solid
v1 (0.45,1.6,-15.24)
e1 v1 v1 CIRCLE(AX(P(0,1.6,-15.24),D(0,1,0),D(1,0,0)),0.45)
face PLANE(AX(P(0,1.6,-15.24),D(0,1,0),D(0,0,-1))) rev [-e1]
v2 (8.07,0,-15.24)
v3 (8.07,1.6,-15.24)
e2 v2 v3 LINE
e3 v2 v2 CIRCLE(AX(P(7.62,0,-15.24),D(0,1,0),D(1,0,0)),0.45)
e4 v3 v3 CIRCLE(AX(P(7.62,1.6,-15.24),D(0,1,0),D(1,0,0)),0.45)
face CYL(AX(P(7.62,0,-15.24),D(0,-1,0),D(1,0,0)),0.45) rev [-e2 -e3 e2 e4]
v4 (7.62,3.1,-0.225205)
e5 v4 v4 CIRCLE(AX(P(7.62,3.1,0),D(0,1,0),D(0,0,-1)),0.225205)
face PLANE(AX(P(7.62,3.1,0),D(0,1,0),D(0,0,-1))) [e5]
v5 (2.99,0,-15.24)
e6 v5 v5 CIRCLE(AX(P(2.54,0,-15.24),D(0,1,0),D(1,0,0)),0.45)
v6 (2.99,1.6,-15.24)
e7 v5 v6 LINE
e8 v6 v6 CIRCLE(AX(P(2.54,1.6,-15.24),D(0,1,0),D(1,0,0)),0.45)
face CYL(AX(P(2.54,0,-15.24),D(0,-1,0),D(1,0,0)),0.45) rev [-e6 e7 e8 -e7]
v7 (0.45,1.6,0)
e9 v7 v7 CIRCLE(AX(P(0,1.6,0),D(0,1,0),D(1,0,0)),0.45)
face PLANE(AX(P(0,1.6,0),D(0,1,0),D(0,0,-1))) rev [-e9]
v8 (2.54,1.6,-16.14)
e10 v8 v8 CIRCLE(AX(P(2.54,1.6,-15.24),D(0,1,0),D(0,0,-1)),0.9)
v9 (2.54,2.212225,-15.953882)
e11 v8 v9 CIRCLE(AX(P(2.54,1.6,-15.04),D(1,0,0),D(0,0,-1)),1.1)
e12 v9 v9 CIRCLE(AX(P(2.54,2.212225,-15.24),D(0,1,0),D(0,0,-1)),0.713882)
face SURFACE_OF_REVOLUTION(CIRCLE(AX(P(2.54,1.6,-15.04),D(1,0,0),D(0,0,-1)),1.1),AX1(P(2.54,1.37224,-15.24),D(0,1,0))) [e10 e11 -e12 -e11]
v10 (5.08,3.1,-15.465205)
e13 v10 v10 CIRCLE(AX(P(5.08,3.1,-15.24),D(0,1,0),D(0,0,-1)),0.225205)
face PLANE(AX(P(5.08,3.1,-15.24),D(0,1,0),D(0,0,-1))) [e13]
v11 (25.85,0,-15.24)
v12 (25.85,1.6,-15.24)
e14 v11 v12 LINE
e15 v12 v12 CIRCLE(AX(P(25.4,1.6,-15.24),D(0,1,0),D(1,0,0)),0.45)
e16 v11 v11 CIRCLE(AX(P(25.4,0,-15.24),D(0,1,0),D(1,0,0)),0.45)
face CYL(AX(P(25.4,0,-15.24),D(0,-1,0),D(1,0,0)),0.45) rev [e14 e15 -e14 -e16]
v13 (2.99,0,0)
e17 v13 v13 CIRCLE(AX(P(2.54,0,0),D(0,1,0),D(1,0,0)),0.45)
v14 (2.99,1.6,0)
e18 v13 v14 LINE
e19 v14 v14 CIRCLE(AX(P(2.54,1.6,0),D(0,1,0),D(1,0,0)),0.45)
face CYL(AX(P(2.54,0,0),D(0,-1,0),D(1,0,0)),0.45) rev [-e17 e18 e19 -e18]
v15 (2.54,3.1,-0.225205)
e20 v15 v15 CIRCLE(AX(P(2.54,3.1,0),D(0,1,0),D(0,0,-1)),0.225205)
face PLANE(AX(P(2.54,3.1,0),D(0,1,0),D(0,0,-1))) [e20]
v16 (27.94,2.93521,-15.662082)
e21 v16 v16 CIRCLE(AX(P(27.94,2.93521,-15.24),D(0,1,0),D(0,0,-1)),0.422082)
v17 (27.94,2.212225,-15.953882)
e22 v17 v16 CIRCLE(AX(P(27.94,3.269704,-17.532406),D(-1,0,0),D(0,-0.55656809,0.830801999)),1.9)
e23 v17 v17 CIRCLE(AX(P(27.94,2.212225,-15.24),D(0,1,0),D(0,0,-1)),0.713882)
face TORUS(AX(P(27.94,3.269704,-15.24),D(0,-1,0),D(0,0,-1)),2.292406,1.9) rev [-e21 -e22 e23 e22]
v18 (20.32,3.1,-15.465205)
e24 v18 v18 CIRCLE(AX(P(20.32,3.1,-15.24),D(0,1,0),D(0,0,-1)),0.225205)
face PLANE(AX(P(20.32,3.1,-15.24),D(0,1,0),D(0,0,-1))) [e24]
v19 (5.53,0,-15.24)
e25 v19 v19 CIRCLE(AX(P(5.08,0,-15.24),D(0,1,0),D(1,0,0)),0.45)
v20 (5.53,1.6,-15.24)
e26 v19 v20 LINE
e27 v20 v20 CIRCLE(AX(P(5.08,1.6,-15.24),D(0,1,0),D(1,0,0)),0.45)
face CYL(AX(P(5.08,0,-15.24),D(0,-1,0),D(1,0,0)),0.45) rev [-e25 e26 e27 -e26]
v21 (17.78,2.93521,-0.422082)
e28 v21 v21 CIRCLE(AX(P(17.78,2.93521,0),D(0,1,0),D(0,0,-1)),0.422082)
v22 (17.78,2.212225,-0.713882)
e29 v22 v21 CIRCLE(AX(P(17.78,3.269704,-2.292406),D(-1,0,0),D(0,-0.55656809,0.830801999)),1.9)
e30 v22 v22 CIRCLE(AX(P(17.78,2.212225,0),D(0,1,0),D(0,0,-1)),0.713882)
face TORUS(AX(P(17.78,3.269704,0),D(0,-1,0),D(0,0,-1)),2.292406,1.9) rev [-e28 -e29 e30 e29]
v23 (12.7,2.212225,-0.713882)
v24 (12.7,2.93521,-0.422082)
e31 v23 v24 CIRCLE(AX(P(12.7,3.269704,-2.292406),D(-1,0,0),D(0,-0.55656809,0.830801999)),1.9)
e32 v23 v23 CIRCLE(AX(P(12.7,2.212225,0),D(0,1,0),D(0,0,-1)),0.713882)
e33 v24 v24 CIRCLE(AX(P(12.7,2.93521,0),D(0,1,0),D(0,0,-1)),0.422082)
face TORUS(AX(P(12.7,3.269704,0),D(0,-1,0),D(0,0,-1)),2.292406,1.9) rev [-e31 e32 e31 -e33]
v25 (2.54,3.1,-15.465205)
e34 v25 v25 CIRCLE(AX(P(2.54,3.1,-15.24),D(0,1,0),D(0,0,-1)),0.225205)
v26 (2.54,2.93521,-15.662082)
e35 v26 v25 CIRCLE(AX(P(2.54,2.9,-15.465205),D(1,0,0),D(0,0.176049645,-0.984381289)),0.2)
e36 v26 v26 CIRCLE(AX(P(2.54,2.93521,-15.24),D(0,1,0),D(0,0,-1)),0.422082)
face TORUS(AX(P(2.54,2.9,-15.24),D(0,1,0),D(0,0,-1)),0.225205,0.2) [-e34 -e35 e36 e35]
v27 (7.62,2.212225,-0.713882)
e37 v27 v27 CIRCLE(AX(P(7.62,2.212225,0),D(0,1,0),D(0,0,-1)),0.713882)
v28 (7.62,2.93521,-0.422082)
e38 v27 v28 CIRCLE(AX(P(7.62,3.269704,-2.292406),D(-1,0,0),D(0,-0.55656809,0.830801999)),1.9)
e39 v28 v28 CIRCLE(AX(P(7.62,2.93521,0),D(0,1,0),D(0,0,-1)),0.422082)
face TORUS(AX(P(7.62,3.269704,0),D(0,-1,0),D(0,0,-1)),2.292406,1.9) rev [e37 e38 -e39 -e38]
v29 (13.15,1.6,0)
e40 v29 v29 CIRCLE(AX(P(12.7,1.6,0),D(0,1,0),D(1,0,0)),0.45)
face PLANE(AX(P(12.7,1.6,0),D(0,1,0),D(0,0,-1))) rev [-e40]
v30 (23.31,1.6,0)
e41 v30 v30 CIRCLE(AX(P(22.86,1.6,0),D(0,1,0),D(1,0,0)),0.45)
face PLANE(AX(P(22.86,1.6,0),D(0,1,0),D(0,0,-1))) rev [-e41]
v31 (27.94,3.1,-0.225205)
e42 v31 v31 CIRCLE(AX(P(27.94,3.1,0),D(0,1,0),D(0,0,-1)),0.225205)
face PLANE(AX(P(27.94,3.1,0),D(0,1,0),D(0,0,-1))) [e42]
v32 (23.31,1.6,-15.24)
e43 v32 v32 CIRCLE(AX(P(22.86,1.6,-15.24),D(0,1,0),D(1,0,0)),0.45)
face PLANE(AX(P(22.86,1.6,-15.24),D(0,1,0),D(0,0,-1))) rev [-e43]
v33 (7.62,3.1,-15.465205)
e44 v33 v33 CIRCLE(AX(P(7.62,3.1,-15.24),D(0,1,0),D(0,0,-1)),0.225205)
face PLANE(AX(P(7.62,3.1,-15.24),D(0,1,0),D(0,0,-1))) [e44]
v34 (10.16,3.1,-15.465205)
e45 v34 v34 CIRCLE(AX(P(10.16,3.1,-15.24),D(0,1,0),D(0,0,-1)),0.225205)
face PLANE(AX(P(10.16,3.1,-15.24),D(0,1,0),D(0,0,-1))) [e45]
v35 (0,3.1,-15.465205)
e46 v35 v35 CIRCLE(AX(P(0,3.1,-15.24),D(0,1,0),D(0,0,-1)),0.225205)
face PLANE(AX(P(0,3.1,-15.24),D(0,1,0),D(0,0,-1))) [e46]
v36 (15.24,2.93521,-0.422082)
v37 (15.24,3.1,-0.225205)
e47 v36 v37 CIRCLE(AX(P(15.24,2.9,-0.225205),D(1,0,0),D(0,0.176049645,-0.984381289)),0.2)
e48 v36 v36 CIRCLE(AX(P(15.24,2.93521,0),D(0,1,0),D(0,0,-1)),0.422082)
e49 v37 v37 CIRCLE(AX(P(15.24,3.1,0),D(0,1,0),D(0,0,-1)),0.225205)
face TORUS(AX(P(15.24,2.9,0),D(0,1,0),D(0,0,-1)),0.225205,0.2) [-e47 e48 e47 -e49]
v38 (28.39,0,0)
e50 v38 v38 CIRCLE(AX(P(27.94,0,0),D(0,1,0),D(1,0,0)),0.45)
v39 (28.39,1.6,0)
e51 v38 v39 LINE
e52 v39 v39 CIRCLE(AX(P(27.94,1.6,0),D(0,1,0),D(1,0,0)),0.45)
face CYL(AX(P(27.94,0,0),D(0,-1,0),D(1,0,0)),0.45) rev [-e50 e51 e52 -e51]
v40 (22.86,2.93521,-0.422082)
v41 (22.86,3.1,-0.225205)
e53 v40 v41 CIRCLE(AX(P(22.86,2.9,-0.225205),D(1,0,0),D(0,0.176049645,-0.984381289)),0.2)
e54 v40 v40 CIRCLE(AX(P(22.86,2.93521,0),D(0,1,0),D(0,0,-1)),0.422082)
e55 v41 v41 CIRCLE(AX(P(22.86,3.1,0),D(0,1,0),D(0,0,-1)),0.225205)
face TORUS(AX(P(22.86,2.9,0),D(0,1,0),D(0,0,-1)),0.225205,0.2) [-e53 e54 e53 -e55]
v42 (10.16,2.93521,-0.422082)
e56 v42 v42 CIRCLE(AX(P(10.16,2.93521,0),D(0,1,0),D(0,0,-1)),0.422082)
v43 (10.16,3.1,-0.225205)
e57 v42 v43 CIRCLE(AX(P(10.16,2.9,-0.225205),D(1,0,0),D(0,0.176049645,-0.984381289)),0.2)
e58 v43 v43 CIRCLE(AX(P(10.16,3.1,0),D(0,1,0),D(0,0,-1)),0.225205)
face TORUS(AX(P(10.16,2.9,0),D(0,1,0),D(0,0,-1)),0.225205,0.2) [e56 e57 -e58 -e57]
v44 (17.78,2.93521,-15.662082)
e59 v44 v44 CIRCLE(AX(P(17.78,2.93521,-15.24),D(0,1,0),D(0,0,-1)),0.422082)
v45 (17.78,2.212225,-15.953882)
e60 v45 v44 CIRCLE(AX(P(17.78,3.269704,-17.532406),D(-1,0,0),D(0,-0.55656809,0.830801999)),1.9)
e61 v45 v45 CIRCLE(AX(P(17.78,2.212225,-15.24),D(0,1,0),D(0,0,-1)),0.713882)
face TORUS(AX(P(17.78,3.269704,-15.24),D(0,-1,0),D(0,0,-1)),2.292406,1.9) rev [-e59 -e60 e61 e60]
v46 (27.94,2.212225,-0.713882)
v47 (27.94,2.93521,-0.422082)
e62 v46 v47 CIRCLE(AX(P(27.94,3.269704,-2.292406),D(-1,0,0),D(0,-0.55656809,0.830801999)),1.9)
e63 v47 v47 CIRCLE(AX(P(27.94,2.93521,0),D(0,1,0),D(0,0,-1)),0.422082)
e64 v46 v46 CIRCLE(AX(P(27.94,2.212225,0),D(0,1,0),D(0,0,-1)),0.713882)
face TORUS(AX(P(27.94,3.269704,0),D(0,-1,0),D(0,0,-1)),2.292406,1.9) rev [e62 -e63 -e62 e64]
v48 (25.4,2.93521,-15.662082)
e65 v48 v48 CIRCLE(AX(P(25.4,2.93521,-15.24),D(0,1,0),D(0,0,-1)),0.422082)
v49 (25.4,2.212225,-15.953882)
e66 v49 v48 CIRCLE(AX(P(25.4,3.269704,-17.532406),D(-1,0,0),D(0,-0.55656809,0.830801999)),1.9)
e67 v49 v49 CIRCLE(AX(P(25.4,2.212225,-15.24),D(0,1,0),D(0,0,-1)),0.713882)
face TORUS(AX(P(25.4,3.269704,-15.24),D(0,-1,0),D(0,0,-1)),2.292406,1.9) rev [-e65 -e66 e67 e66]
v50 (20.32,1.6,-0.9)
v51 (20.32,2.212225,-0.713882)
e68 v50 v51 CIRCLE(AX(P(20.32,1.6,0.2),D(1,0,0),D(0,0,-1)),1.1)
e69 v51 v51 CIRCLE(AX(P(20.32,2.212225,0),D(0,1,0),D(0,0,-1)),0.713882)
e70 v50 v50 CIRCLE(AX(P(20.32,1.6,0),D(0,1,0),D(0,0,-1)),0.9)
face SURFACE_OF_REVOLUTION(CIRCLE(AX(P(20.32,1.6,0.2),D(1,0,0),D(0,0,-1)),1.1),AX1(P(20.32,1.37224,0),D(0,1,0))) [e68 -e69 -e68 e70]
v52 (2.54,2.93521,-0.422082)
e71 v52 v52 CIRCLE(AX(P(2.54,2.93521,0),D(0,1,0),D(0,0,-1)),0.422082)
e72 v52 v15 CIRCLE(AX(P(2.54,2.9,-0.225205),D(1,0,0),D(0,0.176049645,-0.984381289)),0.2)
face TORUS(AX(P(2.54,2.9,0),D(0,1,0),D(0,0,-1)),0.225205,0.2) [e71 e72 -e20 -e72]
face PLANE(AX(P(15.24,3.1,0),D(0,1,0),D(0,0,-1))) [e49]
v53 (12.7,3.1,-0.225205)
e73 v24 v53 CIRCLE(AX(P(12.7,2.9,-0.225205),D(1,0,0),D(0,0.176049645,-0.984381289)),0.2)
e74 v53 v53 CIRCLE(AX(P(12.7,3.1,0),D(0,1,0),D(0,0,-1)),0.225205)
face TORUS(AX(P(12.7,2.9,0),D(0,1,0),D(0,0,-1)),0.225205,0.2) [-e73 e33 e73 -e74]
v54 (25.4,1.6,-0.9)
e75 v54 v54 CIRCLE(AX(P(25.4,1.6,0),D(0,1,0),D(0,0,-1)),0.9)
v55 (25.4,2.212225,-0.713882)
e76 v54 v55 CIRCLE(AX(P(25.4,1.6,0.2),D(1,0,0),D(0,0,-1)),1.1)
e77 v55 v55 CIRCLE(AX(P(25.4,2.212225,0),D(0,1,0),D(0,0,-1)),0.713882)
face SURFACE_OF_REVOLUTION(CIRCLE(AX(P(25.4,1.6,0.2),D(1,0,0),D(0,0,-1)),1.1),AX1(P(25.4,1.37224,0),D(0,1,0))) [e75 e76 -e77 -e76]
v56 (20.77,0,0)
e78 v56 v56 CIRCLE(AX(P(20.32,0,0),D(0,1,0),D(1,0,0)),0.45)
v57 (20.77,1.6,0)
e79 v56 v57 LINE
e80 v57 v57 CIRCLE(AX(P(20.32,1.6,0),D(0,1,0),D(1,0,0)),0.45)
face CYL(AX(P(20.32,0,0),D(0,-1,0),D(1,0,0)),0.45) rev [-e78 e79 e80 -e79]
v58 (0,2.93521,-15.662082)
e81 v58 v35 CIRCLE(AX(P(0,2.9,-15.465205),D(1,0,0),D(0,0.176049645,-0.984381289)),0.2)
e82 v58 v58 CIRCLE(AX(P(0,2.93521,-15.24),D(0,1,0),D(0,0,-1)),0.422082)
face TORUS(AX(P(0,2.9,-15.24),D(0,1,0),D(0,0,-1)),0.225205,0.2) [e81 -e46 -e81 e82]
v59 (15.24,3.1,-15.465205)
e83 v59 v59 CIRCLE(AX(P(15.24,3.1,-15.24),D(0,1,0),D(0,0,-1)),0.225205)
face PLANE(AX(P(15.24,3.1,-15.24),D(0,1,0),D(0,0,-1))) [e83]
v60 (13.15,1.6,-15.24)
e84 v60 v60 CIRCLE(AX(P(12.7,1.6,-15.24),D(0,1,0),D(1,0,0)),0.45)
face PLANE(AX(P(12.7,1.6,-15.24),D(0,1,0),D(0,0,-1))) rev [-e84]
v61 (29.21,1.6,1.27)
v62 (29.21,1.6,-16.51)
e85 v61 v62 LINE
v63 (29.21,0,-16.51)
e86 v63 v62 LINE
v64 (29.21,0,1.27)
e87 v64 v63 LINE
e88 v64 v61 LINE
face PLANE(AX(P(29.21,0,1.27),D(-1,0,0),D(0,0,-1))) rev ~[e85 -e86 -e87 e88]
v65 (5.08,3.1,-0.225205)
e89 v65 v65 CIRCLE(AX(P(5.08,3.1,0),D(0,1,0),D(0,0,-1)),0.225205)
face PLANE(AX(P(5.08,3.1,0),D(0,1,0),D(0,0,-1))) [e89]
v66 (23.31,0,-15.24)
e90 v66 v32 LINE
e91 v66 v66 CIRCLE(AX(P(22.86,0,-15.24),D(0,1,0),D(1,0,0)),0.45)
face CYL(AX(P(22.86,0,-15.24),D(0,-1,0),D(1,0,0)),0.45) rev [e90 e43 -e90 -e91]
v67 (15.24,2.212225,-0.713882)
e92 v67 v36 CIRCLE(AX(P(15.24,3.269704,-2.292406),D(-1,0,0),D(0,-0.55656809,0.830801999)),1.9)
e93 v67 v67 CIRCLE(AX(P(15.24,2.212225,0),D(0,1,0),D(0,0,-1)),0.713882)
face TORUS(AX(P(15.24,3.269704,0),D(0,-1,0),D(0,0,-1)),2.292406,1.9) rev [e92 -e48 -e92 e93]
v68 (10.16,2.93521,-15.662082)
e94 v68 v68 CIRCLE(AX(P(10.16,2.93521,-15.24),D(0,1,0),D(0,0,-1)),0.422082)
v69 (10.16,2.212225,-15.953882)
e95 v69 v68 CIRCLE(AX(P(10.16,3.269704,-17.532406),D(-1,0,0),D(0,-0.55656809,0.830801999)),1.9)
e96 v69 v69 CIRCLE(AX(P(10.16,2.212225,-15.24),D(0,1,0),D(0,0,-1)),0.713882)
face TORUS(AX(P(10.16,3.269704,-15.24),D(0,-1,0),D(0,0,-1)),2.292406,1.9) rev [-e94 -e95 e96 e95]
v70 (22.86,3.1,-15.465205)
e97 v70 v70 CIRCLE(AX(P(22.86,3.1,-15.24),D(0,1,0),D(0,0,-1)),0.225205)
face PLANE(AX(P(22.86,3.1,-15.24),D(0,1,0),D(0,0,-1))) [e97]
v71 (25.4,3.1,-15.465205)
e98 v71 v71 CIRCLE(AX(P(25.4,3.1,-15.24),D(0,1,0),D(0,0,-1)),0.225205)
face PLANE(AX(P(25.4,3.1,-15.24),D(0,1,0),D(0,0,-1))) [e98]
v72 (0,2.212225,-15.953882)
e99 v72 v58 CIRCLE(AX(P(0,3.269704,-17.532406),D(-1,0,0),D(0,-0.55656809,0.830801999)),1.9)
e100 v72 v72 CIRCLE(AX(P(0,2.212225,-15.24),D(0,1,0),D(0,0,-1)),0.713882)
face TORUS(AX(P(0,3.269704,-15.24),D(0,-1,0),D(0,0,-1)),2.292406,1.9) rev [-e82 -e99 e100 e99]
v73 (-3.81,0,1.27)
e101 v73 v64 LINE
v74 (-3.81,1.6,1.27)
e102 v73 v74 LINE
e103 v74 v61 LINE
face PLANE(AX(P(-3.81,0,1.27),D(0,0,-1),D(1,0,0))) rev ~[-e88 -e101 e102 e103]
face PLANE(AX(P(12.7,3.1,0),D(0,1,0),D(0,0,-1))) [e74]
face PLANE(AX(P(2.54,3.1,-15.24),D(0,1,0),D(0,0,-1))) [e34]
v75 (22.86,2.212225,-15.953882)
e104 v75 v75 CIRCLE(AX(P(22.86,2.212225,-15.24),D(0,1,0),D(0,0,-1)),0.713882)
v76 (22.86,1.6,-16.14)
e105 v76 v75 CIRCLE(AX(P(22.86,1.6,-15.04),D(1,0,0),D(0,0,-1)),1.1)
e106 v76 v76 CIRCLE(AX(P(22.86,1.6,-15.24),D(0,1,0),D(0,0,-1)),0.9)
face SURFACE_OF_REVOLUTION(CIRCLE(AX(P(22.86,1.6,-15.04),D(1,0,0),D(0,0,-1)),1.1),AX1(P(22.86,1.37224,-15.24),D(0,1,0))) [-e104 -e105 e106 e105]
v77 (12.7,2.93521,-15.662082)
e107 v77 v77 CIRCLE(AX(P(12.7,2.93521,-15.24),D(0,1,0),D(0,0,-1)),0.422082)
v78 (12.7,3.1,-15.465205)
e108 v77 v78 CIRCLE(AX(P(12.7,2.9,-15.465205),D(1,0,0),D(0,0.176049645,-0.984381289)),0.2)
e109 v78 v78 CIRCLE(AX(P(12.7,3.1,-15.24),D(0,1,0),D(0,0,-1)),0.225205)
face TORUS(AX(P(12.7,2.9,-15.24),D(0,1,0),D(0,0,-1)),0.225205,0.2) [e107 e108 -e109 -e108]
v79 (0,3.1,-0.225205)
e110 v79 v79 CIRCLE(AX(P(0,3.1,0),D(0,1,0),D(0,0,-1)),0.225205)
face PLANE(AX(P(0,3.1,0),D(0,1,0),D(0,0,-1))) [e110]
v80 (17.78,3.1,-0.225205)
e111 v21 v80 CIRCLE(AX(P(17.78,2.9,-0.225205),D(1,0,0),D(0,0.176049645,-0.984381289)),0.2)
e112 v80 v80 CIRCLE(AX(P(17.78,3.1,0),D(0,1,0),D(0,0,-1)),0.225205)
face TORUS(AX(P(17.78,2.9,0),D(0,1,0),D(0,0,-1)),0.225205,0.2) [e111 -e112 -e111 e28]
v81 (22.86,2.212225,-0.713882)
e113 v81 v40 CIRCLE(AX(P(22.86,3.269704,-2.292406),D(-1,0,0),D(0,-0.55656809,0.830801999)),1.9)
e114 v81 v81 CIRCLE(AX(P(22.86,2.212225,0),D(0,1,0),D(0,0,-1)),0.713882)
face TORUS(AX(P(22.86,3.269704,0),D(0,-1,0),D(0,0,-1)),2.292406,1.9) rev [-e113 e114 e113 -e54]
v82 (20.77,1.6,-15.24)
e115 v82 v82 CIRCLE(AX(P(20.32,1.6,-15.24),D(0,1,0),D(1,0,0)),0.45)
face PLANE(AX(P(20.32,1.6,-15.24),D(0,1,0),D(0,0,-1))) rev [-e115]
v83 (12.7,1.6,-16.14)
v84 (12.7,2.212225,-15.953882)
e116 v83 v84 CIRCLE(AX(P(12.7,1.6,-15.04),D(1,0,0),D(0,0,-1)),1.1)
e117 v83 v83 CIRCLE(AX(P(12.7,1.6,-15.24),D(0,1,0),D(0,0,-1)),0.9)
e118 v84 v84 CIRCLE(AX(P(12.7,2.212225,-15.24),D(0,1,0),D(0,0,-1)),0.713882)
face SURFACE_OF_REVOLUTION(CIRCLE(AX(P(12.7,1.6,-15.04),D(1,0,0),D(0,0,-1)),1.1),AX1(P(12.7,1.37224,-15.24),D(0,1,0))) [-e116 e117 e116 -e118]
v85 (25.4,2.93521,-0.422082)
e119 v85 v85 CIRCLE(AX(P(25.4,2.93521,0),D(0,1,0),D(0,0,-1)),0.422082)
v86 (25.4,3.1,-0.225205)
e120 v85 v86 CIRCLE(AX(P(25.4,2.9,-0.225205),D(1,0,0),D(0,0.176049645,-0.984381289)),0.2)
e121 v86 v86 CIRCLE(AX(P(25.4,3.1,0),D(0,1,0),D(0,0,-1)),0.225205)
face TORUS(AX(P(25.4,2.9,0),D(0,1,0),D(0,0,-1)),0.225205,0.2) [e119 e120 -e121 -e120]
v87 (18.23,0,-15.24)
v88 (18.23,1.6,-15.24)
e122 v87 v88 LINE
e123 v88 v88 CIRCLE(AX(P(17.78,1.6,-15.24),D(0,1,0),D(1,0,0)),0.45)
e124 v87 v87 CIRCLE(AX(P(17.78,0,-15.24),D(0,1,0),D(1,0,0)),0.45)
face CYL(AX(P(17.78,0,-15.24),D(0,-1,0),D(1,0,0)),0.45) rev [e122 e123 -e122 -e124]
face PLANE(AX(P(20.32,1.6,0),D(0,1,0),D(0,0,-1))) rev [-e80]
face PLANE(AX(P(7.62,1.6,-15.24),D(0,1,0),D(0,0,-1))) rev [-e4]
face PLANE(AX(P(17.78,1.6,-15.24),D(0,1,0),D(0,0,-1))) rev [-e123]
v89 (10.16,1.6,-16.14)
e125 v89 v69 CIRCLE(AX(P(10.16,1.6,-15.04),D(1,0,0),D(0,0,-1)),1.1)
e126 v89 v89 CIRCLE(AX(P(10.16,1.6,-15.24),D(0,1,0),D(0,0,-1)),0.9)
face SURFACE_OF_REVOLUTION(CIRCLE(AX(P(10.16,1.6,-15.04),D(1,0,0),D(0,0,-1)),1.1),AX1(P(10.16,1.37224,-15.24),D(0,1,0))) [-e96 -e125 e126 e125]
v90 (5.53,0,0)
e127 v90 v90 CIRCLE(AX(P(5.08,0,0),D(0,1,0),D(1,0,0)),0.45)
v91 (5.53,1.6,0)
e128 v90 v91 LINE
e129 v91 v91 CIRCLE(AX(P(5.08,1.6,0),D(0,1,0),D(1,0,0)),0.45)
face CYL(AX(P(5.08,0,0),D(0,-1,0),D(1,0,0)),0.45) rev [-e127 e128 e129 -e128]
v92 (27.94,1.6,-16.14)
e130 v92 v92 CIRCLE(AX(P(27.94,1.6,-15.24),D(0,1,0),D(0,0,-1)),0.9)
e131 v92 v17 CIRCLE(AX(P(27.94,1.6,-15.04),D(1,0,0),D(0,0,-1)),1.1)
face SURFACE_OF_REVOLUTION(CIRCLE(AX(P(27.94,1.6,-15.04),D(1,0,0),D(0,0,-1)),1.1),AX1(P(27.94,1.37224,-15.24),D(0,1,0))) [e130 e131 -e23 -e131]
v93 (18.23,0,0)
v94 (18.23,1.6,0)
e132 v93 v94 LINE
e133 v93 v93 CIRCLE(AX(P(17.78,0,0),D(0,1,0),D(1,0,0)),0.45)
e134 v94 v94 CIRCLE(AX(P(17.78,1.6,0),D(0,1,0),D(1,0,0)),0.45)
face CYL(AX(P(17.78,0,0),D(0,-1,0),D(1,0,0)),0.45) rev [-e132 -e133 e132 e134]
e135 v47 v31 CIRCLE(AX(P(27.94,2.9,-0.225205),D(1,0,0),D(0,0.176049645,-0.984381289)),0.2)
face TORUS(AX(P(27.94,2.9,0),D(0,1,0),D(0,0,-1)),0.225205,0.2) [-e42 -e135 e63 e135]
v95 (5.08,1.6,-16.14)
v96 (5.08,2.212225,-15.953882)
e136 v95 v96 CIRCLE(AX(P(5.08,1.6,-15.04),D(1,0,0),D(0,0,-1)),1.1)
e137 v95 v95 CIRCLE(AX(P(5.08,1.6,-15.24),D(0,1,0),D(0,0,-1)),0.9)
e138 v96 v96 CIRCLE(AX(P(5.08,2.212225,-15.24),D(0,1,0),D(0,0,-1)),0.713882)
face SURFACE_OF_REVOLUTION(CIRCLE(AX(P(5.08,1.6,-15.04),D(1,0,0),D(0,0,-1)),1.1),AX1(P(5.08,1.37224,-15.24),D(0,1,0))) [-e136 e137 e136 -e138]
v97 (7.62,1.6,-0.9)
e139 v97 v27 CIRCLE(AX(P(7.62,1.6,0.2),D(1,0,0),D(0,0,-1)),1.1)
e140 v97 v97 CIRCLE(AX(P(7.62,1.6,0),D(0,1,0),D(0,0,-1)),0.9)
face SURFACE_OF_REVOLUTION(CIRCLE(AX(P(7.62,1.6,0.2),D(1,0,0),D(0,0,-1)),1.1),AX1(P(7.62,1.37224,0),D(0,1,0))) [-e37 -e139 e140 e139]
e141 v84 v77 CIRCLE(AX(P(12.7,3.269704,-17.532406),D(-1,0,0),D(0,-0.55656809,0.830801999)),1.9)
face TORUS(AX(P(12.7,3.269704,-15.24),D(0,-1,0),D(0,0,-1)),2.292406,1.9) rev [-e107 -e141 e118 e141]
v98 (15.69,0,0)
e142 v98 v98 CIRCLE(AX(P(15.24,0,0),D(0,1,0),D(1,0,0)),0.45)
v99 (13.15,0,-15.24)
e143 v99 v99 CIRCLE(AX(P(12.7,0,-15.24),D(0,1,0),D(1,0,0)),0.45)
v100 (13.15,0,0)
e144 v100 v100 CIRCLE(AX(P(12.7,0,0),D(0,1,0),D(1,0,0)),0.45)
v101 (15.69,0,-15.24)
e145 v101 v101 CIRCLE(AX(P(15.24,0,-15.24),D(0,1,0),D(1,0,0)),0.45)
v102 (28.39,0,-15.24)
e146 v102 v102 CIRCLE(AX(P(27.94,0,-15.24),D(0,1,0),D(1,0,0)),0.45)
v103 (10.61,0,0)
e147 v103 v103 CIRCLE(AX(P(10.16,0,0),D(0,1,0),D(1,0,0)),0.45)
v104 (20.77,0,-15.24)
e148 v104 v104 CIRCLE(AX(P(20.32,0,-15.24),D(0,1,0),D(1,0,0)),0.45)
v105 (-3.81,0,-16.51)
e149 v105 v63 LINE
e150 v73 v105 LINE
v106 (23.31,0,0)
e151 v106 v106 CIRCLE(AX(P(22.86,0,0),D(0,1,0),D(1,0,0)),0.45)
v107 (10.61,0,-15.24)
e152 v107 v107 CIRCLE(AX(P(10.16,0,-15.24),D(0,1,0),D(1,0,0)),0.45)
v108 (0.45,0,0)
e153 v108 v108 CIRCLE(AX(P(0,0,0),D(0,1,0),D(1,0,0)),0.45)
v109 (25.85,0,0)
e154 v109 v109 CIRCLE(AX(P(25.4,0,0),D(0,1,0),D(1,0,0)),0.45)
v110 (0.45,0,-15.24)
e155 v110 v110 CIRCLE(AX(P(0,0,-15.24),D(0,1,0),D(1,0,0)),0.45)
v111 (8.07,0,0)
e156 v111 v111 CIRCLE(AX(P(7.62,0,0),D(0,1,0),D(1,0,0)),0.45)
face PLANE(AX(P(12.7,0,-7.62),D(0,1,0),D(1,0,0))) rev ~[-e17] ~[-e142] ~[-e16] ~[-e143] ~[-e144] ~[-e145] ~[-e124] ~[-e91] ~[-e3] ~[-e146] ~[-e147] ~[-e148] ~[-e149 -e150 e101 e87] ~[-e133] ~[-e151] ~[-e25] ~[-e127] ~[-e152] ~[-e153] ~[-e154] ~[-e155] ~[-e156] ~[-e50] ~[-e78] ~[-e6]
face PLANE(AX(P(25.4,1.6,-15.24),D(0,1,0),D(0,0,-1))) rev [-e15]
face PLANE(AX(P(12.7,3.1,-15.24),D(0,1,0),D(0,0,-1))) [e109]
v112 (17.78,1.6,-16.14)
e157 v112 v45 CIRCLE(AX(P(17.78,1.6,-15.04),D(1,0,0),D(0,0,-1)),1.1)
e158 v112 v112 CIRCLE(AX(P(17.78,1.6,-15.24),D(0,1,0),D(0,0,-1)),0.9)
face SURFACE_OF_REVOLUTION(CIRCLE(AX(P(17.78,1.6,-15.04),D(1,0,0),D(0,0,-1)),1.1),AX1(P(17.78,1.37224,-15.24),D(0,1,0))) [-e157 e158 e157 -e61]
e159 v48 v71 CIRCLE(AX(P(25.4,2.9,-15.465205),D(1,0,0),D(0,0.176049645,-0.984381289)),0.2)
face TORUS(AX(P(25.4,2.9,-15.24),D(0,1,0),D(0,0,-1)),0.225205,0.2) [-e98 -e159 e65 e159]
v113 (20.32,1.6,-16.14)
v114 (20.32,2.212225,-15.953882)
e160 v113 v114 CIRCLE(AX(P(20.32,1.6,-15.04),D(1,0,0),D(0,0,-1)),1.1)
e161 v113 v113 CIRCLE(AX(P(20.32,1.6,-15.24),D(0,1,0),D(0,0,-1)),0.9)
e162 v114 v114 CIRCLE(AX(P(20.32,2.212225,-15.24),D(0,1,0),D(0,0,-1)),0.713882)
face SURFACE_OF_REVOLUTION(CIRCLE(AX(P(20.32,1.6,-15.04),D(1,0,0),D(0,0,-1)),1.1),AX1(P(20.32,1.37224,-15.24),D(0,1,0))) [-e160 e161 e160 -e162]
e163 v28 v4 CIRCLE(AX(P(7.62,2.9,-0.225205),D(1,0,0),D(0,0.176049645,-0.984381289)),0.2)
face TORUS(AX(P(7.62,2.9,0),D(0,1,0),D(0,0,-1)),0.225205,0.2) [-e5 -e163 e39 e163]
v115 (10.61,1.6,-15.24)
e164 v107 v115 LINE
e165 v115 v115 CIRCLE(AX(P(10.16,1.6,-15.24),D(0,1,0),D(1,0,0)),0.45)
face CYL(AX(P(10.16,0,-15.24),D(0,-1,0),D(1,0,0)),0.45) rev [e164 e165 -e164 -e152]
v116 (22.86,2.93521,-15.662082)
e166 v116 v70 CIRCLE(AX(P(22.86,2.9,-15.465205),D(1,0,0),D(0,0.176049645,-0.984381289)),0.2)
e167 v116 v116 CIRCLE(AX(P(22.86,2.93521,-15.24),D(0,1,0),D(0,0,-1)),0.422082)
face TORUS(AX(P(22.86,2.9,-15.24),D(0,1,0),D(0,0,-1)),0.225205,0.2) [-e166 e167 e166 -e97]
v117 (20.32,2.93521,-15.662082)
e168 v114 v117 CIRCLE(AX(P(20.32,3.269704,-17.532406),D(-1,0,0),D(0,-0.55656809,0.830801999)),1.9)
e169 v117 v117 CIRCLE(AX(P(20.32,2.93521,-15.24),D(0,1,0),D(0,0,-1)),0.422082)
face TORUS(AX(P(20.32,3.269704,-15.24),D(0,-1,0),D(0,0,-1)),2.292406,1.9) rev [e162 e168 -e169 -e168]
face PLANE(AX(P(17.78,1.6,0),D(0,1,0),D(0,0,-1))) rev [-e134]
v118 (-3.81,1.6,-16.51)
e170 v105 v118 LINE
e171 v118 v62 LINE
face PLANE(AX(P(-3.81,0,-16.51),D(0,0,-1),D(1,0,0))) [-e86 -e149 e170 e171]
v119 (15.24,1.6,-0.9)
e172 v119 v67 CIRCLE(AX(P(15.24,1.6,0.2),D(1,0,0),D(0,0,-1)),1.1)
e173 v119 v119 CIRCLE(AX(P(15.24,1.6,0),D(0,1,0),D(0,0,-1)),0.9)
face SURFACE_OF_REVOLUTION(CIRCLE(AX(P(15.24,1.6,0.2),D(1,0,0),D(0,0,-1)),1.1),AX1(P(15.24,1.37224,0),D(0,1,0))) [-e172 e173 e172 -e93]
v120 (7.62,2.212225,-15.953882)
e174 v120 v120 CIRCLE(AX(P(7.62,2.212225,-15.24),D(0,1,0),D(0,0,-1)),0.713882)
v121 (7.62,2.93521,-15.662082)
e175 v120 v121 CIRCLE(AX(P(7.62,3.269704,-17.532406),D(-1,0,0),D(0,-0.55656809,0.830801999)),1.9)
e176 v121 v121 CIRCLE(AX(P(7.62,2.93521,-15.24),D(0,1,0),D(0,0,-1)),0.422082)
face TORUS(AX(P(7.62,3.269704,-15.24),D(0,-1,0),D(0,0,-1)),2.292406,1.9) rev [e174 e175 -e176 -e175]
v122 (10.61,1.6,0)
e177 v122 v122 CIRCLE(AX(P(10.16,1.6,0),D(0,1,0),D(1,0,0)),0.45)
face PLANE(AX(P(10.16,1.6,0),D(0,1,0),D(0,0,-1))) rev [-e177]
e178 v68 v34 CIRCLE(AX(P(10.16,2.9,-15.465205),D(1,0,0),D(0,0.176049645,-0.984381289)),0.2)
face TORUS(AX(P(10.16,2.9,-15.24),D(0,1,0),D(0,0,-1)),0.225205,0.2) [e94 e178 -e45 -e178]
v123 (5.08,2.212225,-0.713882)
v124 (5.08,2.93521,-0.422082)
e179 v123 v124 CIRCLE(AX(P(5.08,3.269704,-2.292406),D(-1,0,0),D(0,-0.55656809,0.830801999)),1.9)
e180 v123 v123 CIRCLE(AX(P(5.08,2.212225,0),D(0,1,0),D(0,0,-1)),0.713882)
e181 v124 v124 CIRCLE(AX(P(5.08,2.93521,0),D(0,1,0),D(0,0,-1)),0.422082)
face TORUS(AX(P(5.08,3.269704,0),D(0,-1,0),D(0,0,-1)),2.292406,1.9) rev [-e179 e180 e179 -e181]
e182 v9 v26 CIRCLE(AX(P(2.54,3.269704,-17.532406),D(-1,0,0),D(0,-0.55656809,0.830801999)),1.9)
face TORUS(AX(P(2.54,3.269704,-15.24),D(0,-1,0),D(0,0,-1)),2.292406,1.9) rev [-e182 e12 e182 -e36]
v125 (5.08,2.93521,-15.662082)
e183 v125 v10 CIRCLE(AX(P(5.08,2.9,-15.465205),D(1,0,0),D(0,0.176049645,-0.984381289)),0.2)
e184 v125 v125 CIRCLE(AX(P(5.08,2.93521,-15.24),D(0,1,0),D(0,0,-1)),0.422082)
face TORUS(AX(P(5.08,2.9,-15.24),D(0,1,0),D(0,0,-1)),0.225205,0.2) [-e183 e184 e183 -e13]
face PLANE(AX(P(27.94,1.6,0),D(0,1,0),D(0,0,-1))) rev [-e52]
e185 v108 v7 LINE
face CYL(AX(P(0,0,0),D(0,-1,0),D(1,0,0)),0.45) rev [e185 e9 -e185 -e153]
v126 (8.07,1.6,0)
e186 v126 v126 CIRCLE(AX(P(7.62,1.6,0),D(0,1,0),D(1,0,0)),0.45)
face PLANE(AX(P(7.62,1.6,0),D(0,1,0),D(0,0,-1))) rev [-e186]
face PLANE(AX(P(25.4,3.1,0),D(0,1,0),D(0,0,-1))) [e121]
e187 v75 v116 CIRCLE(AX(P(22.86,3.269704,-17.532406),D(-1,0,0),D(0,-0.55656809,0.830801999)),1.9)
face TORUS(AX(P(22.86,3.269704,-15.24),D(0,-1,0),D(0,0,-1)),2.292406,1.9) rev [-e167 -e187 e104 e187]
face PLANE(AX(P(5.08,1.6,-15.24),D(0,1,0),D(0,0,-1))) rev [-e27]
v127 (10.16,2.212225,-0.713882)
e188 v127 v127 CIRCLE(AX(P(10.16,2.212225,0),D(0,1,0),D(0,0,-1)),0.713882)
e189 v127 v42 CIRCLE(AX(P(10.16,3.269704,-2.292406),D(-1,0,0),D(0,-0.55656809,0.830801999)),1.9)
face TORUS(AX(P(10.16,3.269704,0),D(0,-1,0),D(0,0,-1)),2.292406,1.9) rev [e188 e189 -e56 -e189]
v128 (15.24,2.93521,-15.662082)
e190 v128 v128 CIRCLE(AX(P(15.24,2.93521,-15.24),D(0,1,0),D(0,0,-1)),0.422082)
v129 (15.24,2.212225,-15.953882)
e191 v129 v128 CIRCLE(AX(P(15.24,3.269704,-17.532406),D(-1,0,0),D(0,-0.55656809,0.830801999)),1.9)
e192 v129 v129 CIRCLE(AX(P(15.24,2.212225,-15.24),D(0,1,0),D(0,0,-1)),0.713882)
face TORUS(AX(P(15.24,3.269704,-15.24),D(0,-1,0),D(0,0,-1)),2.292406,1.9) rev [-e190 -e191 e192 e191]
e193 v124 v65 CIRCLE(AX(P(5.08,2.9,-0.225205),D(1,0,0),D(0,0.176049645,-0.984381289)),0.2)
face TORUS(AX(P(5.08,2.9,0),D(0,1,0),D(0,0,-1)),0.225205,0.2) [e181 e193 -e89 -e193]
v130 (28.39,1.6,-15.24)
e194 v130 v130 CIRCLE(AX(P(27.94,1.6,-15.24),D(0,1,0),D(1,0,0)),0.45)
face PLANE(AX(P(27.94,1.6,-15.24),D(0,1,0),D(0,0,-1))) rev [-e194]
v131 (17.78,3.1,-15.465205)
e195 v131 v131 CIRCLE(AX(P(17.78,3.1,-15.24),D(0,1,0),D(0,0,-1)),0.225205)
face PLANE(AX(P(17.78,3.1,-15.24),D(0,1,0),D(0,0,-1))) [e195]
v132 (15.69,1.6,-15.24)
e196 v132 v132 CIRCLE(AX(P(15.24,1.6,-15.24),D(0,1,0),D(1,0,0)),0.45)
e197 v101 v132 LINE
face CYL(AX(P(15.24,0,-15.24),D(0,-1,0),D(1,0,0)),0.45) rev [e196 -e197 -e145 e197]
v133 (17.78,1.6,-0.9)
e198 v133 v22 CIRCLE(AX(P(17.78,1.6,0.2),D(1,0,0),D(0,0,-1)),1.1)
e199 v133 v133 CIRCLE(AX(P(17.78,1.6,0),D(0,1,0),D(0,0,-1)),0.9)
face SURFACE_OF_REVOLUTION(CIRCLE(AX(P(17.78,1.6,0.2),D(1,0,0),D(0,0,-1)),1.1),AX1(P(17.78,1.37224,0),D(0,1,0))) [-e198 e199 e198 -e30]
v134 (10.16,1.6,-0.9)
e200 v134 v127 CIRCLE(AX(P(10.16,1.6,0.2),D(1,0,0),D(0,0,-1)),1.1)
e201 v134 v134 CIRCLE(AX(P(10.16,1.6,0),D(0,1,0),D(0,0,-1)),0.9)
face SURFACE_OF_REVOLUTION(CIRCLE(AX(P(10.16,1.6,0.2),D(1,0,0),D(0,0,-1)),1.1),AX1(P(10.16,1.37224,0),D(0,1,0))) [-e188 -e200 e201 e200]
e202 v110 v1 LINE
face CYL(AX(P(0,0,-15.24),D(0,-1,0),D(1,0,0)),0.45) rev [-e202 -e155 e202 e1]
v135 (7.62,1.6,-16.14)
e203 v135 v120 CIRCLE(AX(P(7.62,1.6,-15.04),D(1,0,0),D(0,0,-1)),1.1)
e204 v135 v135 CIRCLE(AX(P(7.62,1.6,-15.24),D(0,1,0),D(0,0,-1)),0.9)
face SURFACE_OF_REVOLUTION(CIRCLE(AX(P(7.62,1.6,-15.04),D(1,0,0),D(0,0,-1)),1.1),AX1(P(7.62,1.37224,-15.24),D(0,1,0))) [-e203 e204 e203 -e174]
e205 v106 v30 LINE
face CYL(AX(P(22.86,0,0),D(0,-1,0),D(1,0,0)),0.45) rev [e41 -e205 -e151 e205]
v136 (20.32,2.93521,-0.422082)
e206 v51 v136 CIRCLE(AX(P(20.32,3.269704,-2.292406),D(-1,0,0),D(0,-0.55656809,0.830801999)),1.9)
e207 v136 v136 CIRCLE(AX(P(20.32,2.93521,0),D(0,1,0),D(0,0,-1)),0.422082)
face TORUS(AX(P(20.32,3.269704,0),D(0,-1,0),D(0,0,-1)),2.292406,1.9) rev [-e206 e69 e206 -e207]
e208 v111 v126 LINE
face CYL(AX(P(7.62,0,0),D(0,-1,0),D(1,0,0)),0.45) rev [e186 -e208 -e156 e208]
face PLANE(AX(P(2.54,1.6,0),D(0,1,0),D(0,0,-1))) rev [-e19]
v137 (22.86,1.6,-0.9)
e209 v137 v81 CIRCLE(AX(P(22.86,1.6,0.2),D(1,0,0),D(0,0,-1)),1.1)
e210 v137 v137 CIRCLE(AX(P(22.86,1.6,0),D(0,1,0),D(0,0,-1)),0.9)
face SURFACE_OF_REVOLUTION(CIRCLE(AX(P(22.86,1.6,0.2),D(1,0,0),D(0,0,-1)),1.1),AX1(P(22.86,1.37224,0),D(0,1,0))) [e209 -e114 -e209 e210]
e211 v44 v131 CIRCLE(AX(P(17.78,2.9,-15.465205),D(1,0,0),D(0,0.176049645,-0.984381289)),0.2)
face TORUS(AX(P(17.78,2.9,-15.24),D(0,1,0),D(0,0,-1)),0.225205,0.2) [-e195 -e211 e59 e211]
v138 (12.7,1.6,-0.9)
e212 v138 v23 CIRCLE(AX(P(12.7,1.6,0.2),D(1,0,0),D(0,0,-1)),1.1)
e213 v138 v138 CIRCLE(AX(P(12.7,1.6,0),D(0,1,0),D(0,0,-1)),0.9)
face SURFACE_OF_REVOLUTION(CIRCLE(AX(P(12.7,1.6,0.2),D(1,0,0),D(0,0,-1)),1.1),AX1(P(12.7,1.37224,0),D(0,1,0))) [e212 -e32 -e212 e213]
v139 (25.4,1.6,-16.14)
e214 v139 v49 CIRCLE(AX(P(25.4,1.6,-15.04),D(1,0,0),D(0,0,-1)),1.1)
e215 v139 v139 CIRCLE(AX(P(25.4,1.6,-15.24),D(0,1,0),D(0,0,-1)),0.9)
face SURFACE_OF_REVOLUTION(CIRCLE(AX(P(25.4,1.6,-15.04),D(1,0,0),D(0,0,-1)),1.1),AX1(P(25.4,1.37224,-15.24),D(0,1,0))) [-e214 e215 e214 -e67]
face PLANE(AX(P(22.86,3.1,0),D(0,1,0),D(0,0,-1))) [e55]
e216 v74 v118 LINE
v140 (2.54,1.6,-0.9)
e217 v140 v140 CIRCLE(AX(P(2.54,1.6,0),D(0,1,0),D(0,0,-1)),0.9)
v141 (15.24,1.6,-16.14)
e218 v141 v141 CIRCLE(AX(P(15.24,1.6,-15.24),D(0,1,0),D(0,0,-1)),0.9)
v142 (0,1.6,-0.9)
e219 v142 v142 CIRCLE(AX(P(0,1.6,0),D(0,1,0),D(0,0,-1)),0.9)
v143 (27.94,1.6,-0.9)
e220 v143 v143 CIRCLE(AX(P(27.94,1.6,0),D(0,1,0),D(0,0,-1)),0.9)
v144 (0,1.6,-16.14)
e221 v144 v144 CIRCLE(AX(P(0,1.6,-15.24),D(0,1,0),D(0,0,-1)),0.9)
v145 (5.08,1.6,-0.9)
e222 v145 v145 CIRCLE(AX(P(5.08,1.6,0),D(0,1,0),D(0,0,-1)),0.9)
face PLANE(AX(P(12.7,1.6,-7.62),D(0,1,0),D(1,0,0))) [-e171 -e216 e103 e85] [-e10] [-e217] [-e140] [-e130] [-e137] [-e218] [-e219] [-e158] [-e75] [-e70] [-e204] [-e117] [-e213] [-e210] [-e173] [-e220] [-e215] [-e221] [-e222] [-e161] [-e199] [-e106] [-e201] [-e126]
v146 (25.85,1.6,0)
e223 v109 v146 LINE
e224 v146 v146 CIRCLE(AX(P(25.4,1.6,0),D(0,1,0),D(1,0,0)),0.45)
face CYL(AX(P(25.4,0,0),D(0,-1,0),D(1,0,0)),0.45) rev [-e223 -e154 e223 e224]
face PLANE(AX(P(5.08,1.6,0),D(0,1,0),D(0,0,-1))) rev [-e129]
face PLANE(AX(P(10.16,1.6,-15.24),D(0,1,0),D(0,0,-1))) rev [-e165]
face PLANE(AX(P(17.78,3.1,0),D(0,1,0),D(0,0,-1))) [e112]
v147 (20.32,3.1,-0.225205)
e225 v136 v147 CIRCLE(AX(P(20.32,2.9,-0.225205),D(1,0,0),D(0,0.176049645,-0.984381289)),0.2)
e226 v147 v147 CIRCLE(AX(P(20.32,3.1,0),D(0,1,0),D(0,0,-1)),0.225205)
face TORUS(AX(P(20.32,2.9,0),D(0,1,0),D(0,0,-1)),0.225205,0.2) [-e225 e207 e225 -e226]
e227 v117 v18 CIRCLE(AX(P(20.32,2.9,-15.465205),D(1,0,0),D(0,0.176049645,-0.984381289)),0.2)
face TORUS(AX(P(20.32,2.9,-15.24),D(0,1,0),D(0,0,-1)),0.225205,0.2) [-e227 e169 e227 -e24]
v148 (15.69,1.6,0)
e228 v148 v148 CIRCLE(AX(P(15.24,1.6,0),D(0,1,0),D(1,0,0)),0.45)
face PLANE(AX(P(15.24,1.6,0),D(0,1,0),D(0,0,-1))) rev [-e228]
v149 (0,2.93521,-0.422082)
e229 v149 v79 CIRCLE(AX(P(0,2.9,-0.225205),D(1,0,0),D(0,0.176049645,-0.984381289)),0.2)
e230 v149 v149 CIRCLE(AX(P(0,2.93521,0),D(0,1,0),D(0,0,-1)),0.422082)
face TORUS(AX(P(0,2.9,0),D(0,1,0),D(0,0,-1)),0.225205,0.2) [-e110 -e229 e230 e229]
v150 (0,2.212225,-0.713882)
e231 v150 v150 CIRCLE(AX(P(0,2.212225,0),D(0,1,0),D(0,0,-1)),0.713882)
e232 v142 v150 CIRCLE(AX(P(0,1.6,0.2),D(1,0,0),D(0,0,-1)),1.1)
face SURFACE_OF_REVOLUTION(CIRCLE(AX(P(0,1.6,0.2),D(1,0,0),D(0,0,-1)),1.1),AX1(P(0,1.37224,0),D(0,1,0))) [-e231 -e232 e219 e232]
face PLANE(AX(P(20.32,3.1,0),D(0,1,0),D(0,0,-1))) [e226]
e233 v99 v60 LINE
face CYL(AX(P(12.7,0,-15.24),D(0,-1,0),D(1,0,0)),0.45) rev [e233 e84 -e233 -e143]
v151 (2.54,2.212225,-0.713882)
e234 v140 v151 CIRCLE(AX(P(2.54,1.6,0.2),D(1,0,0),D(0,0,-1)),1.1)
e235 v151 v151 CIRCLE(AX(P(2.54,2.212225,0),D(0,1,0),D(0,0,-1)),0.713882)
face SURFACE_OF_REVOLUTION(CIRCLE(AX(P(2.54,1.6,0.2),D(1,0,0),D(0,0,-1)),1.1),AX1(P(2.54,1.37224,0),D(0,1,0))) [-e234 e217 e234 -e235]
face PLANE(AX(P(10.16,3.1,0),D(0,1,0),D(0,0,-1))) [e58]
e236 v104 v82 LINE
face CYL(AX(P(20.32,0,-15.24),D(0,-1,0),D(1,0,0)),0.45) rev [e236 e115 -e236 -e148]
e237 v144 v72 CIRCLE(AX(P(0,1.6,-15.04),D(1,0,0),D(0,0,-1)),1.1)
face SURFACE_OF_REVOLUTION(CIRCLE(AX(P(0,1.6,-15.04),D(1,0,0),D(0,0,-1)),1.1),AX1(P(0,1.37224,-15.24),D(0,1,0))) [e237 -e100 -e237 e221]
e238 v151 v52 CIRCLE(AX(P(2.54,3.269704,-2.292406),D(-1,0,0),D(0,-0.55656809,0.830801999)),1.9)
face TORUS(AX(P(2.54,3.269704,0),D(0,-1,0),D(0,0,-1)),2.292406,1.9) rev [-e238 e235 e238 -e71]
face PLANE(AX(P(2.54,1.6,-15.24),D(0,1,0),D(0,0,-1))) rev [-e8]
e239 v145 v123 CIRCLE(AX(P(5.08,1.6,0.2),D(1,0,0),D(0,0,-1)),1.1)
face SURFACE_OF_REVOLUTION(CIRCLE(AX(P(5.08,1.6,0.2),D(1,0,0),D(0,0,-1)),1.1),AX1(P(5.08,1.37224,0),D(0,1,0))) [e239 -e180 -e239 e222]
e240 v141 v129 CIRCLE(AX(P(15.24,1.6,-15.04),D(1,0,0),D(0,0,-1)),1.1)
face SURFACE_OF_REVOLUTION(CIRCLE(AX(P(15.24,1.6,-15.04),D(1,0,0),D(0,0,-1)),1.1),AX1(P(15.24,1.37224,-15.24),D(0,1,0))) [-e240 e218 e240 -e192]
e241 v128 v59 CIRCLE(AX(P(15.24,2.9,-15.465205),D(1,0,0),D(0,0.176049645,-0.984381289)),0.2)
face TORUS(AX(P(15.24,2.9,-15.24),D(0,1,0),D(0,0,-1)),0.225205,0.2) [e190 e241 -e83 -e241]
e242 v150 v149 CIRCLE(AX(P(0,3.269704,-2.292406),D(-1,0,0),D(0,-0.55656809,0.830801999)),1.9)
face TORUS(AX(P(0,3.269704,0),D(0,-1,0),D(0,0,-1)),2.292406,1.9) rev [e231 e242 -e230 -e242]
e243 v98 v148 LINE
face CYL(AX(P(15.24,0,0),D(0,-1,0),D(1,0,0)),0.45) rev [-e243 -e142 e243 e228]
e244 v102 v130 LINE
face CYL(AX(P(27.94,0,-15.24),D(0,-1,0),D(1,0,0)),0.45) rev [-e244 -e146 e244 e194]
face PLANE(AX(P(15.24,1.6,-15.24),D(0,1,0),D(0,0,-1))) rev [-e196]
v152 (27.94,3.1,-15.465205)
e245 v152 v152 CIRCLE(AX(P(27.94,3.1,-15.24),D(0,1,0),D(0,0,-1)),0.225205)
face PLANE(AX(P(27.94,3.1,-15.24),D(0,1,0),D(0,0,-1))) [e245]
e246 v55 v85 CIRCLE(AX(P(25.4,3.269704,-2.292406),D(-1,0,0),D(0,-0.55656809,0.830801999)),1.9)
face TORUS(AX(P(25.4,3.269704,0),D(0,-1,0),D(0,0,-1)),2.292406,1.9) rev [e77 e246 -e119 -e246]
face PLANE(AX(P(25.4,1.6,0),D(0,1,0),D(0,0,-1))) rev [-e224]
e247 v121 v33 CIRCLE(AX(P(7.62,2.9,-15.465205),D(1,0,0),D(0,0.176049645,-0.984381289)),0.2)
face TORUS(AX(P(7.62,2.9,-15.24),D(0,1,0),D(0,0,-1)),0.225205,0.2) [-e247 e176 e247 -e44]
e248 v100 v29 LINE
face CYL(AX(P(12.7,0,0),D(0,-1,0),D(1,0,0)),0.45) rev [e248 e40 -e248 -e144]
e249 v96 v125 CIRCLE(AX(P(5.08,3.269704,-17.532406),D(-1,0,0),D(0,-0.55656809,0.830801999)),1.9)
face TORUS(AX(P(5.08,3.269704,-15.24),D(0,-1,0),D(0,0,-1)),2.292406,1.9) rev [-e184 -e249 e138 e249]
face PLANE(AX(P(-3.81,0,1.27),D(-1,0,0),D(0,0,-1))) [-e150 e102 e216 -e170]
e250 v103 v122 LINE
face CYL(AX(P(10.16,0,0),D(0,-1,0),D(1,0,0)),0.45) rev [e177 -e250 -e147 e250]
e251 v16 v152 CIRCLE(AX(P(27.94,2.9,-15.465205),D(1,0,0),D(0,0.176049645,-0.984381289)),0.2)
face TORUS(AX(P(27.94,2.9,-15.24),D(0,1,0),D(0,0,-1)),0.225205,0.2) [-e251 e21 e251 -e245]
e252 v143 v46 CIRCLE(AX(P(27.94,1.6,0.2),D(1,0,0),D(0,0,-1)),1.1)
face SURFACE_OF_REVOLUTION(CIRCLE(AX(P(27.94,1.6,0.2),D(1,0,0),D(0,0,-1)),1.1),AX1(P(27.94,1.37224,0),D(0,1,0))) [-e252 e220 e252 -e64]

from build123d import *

# Parameters (mm, degrees)
SKETCH1_W            = 33.02
SKETCH1_H            = 17.78
BOSS_EXTRUDE2_DEPTH  = 1.6
SKETCH2_R            = 0.45
CUT_EXTRUDE2_DEPTH   = 1.6
LPATTERN3_COUNT      = 12
LPATTERN3_PITCH      = 2.54
LPATTERN2_COUNT      = 2
LPATTERN2_PITCH      = 15.24
LPATTERN2_COUNT_DIR2 = 12
LPATTERN2_PITCH_DIR2 = 2.54


with BuildPart() as part:
    # Sketch1 → Boss-Extrude2 (new body)
    with BuildSketch(Plane(origin=(0, 0, 0), x_dir=(1, 0, 0), z_dir=(0, 1, 0))):
        with Locations((12.7, 7.62)):
            Rectangle(SKETCH1_W, SKETCH1_H)
    extrude(amount=BOSS_EXTRUDE2_DEPTH)

    # Sketch2 → Cut-Extrude2 (cut)
    with BuildSketch(Plane(origin=(0, 0, 0), x_dir=(1, 0, 0), z_dir=(0, 1, 0))):
        Circle(SKETCH2_R)
        with Locations((0, 15.24)):
            Circle(SKETCH2_R)
    cut_extrude2 = extrude(amount=CUT_EXTRUDE2_DEPTH, mode=Mode.SUBTRACT)

    # LPattern3: Cut-Extrude2 ×12
    with Locations(*[(i * LPATTERN3_PITCH, 0, 0) for i in range(1, LPATTERN3_COUNT)]):
        add(cut_extrude2, mode=Mode.SUBTRACT)

    # Sketch6 → Revolve1 (revolve)
    with BuildSketch(Plane(origin=(0, 0, 0), x_dir=(0, 0, -1), z_dir=(1, 0, 0))):
        with BuildLine():
            Line((0, 1.6), (0.9, 1.6))
            ThreePointArc((0.9, 1.6), (0.852442497, 1.91994498), (0.713882199, 2.212224898))
            ThreePointArc((0.713882199, 2.212224898), (0.530499248, 2.558589224), (0.422081551, 2.93520993))
            ThreePointArc((0.422081551, 2.93520993), (0.353575878, 3.053365554), (0.225205293, 3.1))
            Line((0.225205293, 3.1), (0, 3.1))
            Line((0, 3.1), (0, 1.6))
        make_face()
    revolve1 = revolve(axis=Axis((0, 1.372239532, 0), (0, 1, 0)))

    # LPattern2: Revolve1 2 × 12
    with Locations(*[(j * LPATTERN2_PITCH_DIR2, 0, -i * LPATTERN2_PITCH) for i in range(LPATTERN2_COUNT) for j in range(LPATTERN2_COUNT_DIR2) if (i, j) != (0, 0)]):
        add(revolve1)


solid = part.part
